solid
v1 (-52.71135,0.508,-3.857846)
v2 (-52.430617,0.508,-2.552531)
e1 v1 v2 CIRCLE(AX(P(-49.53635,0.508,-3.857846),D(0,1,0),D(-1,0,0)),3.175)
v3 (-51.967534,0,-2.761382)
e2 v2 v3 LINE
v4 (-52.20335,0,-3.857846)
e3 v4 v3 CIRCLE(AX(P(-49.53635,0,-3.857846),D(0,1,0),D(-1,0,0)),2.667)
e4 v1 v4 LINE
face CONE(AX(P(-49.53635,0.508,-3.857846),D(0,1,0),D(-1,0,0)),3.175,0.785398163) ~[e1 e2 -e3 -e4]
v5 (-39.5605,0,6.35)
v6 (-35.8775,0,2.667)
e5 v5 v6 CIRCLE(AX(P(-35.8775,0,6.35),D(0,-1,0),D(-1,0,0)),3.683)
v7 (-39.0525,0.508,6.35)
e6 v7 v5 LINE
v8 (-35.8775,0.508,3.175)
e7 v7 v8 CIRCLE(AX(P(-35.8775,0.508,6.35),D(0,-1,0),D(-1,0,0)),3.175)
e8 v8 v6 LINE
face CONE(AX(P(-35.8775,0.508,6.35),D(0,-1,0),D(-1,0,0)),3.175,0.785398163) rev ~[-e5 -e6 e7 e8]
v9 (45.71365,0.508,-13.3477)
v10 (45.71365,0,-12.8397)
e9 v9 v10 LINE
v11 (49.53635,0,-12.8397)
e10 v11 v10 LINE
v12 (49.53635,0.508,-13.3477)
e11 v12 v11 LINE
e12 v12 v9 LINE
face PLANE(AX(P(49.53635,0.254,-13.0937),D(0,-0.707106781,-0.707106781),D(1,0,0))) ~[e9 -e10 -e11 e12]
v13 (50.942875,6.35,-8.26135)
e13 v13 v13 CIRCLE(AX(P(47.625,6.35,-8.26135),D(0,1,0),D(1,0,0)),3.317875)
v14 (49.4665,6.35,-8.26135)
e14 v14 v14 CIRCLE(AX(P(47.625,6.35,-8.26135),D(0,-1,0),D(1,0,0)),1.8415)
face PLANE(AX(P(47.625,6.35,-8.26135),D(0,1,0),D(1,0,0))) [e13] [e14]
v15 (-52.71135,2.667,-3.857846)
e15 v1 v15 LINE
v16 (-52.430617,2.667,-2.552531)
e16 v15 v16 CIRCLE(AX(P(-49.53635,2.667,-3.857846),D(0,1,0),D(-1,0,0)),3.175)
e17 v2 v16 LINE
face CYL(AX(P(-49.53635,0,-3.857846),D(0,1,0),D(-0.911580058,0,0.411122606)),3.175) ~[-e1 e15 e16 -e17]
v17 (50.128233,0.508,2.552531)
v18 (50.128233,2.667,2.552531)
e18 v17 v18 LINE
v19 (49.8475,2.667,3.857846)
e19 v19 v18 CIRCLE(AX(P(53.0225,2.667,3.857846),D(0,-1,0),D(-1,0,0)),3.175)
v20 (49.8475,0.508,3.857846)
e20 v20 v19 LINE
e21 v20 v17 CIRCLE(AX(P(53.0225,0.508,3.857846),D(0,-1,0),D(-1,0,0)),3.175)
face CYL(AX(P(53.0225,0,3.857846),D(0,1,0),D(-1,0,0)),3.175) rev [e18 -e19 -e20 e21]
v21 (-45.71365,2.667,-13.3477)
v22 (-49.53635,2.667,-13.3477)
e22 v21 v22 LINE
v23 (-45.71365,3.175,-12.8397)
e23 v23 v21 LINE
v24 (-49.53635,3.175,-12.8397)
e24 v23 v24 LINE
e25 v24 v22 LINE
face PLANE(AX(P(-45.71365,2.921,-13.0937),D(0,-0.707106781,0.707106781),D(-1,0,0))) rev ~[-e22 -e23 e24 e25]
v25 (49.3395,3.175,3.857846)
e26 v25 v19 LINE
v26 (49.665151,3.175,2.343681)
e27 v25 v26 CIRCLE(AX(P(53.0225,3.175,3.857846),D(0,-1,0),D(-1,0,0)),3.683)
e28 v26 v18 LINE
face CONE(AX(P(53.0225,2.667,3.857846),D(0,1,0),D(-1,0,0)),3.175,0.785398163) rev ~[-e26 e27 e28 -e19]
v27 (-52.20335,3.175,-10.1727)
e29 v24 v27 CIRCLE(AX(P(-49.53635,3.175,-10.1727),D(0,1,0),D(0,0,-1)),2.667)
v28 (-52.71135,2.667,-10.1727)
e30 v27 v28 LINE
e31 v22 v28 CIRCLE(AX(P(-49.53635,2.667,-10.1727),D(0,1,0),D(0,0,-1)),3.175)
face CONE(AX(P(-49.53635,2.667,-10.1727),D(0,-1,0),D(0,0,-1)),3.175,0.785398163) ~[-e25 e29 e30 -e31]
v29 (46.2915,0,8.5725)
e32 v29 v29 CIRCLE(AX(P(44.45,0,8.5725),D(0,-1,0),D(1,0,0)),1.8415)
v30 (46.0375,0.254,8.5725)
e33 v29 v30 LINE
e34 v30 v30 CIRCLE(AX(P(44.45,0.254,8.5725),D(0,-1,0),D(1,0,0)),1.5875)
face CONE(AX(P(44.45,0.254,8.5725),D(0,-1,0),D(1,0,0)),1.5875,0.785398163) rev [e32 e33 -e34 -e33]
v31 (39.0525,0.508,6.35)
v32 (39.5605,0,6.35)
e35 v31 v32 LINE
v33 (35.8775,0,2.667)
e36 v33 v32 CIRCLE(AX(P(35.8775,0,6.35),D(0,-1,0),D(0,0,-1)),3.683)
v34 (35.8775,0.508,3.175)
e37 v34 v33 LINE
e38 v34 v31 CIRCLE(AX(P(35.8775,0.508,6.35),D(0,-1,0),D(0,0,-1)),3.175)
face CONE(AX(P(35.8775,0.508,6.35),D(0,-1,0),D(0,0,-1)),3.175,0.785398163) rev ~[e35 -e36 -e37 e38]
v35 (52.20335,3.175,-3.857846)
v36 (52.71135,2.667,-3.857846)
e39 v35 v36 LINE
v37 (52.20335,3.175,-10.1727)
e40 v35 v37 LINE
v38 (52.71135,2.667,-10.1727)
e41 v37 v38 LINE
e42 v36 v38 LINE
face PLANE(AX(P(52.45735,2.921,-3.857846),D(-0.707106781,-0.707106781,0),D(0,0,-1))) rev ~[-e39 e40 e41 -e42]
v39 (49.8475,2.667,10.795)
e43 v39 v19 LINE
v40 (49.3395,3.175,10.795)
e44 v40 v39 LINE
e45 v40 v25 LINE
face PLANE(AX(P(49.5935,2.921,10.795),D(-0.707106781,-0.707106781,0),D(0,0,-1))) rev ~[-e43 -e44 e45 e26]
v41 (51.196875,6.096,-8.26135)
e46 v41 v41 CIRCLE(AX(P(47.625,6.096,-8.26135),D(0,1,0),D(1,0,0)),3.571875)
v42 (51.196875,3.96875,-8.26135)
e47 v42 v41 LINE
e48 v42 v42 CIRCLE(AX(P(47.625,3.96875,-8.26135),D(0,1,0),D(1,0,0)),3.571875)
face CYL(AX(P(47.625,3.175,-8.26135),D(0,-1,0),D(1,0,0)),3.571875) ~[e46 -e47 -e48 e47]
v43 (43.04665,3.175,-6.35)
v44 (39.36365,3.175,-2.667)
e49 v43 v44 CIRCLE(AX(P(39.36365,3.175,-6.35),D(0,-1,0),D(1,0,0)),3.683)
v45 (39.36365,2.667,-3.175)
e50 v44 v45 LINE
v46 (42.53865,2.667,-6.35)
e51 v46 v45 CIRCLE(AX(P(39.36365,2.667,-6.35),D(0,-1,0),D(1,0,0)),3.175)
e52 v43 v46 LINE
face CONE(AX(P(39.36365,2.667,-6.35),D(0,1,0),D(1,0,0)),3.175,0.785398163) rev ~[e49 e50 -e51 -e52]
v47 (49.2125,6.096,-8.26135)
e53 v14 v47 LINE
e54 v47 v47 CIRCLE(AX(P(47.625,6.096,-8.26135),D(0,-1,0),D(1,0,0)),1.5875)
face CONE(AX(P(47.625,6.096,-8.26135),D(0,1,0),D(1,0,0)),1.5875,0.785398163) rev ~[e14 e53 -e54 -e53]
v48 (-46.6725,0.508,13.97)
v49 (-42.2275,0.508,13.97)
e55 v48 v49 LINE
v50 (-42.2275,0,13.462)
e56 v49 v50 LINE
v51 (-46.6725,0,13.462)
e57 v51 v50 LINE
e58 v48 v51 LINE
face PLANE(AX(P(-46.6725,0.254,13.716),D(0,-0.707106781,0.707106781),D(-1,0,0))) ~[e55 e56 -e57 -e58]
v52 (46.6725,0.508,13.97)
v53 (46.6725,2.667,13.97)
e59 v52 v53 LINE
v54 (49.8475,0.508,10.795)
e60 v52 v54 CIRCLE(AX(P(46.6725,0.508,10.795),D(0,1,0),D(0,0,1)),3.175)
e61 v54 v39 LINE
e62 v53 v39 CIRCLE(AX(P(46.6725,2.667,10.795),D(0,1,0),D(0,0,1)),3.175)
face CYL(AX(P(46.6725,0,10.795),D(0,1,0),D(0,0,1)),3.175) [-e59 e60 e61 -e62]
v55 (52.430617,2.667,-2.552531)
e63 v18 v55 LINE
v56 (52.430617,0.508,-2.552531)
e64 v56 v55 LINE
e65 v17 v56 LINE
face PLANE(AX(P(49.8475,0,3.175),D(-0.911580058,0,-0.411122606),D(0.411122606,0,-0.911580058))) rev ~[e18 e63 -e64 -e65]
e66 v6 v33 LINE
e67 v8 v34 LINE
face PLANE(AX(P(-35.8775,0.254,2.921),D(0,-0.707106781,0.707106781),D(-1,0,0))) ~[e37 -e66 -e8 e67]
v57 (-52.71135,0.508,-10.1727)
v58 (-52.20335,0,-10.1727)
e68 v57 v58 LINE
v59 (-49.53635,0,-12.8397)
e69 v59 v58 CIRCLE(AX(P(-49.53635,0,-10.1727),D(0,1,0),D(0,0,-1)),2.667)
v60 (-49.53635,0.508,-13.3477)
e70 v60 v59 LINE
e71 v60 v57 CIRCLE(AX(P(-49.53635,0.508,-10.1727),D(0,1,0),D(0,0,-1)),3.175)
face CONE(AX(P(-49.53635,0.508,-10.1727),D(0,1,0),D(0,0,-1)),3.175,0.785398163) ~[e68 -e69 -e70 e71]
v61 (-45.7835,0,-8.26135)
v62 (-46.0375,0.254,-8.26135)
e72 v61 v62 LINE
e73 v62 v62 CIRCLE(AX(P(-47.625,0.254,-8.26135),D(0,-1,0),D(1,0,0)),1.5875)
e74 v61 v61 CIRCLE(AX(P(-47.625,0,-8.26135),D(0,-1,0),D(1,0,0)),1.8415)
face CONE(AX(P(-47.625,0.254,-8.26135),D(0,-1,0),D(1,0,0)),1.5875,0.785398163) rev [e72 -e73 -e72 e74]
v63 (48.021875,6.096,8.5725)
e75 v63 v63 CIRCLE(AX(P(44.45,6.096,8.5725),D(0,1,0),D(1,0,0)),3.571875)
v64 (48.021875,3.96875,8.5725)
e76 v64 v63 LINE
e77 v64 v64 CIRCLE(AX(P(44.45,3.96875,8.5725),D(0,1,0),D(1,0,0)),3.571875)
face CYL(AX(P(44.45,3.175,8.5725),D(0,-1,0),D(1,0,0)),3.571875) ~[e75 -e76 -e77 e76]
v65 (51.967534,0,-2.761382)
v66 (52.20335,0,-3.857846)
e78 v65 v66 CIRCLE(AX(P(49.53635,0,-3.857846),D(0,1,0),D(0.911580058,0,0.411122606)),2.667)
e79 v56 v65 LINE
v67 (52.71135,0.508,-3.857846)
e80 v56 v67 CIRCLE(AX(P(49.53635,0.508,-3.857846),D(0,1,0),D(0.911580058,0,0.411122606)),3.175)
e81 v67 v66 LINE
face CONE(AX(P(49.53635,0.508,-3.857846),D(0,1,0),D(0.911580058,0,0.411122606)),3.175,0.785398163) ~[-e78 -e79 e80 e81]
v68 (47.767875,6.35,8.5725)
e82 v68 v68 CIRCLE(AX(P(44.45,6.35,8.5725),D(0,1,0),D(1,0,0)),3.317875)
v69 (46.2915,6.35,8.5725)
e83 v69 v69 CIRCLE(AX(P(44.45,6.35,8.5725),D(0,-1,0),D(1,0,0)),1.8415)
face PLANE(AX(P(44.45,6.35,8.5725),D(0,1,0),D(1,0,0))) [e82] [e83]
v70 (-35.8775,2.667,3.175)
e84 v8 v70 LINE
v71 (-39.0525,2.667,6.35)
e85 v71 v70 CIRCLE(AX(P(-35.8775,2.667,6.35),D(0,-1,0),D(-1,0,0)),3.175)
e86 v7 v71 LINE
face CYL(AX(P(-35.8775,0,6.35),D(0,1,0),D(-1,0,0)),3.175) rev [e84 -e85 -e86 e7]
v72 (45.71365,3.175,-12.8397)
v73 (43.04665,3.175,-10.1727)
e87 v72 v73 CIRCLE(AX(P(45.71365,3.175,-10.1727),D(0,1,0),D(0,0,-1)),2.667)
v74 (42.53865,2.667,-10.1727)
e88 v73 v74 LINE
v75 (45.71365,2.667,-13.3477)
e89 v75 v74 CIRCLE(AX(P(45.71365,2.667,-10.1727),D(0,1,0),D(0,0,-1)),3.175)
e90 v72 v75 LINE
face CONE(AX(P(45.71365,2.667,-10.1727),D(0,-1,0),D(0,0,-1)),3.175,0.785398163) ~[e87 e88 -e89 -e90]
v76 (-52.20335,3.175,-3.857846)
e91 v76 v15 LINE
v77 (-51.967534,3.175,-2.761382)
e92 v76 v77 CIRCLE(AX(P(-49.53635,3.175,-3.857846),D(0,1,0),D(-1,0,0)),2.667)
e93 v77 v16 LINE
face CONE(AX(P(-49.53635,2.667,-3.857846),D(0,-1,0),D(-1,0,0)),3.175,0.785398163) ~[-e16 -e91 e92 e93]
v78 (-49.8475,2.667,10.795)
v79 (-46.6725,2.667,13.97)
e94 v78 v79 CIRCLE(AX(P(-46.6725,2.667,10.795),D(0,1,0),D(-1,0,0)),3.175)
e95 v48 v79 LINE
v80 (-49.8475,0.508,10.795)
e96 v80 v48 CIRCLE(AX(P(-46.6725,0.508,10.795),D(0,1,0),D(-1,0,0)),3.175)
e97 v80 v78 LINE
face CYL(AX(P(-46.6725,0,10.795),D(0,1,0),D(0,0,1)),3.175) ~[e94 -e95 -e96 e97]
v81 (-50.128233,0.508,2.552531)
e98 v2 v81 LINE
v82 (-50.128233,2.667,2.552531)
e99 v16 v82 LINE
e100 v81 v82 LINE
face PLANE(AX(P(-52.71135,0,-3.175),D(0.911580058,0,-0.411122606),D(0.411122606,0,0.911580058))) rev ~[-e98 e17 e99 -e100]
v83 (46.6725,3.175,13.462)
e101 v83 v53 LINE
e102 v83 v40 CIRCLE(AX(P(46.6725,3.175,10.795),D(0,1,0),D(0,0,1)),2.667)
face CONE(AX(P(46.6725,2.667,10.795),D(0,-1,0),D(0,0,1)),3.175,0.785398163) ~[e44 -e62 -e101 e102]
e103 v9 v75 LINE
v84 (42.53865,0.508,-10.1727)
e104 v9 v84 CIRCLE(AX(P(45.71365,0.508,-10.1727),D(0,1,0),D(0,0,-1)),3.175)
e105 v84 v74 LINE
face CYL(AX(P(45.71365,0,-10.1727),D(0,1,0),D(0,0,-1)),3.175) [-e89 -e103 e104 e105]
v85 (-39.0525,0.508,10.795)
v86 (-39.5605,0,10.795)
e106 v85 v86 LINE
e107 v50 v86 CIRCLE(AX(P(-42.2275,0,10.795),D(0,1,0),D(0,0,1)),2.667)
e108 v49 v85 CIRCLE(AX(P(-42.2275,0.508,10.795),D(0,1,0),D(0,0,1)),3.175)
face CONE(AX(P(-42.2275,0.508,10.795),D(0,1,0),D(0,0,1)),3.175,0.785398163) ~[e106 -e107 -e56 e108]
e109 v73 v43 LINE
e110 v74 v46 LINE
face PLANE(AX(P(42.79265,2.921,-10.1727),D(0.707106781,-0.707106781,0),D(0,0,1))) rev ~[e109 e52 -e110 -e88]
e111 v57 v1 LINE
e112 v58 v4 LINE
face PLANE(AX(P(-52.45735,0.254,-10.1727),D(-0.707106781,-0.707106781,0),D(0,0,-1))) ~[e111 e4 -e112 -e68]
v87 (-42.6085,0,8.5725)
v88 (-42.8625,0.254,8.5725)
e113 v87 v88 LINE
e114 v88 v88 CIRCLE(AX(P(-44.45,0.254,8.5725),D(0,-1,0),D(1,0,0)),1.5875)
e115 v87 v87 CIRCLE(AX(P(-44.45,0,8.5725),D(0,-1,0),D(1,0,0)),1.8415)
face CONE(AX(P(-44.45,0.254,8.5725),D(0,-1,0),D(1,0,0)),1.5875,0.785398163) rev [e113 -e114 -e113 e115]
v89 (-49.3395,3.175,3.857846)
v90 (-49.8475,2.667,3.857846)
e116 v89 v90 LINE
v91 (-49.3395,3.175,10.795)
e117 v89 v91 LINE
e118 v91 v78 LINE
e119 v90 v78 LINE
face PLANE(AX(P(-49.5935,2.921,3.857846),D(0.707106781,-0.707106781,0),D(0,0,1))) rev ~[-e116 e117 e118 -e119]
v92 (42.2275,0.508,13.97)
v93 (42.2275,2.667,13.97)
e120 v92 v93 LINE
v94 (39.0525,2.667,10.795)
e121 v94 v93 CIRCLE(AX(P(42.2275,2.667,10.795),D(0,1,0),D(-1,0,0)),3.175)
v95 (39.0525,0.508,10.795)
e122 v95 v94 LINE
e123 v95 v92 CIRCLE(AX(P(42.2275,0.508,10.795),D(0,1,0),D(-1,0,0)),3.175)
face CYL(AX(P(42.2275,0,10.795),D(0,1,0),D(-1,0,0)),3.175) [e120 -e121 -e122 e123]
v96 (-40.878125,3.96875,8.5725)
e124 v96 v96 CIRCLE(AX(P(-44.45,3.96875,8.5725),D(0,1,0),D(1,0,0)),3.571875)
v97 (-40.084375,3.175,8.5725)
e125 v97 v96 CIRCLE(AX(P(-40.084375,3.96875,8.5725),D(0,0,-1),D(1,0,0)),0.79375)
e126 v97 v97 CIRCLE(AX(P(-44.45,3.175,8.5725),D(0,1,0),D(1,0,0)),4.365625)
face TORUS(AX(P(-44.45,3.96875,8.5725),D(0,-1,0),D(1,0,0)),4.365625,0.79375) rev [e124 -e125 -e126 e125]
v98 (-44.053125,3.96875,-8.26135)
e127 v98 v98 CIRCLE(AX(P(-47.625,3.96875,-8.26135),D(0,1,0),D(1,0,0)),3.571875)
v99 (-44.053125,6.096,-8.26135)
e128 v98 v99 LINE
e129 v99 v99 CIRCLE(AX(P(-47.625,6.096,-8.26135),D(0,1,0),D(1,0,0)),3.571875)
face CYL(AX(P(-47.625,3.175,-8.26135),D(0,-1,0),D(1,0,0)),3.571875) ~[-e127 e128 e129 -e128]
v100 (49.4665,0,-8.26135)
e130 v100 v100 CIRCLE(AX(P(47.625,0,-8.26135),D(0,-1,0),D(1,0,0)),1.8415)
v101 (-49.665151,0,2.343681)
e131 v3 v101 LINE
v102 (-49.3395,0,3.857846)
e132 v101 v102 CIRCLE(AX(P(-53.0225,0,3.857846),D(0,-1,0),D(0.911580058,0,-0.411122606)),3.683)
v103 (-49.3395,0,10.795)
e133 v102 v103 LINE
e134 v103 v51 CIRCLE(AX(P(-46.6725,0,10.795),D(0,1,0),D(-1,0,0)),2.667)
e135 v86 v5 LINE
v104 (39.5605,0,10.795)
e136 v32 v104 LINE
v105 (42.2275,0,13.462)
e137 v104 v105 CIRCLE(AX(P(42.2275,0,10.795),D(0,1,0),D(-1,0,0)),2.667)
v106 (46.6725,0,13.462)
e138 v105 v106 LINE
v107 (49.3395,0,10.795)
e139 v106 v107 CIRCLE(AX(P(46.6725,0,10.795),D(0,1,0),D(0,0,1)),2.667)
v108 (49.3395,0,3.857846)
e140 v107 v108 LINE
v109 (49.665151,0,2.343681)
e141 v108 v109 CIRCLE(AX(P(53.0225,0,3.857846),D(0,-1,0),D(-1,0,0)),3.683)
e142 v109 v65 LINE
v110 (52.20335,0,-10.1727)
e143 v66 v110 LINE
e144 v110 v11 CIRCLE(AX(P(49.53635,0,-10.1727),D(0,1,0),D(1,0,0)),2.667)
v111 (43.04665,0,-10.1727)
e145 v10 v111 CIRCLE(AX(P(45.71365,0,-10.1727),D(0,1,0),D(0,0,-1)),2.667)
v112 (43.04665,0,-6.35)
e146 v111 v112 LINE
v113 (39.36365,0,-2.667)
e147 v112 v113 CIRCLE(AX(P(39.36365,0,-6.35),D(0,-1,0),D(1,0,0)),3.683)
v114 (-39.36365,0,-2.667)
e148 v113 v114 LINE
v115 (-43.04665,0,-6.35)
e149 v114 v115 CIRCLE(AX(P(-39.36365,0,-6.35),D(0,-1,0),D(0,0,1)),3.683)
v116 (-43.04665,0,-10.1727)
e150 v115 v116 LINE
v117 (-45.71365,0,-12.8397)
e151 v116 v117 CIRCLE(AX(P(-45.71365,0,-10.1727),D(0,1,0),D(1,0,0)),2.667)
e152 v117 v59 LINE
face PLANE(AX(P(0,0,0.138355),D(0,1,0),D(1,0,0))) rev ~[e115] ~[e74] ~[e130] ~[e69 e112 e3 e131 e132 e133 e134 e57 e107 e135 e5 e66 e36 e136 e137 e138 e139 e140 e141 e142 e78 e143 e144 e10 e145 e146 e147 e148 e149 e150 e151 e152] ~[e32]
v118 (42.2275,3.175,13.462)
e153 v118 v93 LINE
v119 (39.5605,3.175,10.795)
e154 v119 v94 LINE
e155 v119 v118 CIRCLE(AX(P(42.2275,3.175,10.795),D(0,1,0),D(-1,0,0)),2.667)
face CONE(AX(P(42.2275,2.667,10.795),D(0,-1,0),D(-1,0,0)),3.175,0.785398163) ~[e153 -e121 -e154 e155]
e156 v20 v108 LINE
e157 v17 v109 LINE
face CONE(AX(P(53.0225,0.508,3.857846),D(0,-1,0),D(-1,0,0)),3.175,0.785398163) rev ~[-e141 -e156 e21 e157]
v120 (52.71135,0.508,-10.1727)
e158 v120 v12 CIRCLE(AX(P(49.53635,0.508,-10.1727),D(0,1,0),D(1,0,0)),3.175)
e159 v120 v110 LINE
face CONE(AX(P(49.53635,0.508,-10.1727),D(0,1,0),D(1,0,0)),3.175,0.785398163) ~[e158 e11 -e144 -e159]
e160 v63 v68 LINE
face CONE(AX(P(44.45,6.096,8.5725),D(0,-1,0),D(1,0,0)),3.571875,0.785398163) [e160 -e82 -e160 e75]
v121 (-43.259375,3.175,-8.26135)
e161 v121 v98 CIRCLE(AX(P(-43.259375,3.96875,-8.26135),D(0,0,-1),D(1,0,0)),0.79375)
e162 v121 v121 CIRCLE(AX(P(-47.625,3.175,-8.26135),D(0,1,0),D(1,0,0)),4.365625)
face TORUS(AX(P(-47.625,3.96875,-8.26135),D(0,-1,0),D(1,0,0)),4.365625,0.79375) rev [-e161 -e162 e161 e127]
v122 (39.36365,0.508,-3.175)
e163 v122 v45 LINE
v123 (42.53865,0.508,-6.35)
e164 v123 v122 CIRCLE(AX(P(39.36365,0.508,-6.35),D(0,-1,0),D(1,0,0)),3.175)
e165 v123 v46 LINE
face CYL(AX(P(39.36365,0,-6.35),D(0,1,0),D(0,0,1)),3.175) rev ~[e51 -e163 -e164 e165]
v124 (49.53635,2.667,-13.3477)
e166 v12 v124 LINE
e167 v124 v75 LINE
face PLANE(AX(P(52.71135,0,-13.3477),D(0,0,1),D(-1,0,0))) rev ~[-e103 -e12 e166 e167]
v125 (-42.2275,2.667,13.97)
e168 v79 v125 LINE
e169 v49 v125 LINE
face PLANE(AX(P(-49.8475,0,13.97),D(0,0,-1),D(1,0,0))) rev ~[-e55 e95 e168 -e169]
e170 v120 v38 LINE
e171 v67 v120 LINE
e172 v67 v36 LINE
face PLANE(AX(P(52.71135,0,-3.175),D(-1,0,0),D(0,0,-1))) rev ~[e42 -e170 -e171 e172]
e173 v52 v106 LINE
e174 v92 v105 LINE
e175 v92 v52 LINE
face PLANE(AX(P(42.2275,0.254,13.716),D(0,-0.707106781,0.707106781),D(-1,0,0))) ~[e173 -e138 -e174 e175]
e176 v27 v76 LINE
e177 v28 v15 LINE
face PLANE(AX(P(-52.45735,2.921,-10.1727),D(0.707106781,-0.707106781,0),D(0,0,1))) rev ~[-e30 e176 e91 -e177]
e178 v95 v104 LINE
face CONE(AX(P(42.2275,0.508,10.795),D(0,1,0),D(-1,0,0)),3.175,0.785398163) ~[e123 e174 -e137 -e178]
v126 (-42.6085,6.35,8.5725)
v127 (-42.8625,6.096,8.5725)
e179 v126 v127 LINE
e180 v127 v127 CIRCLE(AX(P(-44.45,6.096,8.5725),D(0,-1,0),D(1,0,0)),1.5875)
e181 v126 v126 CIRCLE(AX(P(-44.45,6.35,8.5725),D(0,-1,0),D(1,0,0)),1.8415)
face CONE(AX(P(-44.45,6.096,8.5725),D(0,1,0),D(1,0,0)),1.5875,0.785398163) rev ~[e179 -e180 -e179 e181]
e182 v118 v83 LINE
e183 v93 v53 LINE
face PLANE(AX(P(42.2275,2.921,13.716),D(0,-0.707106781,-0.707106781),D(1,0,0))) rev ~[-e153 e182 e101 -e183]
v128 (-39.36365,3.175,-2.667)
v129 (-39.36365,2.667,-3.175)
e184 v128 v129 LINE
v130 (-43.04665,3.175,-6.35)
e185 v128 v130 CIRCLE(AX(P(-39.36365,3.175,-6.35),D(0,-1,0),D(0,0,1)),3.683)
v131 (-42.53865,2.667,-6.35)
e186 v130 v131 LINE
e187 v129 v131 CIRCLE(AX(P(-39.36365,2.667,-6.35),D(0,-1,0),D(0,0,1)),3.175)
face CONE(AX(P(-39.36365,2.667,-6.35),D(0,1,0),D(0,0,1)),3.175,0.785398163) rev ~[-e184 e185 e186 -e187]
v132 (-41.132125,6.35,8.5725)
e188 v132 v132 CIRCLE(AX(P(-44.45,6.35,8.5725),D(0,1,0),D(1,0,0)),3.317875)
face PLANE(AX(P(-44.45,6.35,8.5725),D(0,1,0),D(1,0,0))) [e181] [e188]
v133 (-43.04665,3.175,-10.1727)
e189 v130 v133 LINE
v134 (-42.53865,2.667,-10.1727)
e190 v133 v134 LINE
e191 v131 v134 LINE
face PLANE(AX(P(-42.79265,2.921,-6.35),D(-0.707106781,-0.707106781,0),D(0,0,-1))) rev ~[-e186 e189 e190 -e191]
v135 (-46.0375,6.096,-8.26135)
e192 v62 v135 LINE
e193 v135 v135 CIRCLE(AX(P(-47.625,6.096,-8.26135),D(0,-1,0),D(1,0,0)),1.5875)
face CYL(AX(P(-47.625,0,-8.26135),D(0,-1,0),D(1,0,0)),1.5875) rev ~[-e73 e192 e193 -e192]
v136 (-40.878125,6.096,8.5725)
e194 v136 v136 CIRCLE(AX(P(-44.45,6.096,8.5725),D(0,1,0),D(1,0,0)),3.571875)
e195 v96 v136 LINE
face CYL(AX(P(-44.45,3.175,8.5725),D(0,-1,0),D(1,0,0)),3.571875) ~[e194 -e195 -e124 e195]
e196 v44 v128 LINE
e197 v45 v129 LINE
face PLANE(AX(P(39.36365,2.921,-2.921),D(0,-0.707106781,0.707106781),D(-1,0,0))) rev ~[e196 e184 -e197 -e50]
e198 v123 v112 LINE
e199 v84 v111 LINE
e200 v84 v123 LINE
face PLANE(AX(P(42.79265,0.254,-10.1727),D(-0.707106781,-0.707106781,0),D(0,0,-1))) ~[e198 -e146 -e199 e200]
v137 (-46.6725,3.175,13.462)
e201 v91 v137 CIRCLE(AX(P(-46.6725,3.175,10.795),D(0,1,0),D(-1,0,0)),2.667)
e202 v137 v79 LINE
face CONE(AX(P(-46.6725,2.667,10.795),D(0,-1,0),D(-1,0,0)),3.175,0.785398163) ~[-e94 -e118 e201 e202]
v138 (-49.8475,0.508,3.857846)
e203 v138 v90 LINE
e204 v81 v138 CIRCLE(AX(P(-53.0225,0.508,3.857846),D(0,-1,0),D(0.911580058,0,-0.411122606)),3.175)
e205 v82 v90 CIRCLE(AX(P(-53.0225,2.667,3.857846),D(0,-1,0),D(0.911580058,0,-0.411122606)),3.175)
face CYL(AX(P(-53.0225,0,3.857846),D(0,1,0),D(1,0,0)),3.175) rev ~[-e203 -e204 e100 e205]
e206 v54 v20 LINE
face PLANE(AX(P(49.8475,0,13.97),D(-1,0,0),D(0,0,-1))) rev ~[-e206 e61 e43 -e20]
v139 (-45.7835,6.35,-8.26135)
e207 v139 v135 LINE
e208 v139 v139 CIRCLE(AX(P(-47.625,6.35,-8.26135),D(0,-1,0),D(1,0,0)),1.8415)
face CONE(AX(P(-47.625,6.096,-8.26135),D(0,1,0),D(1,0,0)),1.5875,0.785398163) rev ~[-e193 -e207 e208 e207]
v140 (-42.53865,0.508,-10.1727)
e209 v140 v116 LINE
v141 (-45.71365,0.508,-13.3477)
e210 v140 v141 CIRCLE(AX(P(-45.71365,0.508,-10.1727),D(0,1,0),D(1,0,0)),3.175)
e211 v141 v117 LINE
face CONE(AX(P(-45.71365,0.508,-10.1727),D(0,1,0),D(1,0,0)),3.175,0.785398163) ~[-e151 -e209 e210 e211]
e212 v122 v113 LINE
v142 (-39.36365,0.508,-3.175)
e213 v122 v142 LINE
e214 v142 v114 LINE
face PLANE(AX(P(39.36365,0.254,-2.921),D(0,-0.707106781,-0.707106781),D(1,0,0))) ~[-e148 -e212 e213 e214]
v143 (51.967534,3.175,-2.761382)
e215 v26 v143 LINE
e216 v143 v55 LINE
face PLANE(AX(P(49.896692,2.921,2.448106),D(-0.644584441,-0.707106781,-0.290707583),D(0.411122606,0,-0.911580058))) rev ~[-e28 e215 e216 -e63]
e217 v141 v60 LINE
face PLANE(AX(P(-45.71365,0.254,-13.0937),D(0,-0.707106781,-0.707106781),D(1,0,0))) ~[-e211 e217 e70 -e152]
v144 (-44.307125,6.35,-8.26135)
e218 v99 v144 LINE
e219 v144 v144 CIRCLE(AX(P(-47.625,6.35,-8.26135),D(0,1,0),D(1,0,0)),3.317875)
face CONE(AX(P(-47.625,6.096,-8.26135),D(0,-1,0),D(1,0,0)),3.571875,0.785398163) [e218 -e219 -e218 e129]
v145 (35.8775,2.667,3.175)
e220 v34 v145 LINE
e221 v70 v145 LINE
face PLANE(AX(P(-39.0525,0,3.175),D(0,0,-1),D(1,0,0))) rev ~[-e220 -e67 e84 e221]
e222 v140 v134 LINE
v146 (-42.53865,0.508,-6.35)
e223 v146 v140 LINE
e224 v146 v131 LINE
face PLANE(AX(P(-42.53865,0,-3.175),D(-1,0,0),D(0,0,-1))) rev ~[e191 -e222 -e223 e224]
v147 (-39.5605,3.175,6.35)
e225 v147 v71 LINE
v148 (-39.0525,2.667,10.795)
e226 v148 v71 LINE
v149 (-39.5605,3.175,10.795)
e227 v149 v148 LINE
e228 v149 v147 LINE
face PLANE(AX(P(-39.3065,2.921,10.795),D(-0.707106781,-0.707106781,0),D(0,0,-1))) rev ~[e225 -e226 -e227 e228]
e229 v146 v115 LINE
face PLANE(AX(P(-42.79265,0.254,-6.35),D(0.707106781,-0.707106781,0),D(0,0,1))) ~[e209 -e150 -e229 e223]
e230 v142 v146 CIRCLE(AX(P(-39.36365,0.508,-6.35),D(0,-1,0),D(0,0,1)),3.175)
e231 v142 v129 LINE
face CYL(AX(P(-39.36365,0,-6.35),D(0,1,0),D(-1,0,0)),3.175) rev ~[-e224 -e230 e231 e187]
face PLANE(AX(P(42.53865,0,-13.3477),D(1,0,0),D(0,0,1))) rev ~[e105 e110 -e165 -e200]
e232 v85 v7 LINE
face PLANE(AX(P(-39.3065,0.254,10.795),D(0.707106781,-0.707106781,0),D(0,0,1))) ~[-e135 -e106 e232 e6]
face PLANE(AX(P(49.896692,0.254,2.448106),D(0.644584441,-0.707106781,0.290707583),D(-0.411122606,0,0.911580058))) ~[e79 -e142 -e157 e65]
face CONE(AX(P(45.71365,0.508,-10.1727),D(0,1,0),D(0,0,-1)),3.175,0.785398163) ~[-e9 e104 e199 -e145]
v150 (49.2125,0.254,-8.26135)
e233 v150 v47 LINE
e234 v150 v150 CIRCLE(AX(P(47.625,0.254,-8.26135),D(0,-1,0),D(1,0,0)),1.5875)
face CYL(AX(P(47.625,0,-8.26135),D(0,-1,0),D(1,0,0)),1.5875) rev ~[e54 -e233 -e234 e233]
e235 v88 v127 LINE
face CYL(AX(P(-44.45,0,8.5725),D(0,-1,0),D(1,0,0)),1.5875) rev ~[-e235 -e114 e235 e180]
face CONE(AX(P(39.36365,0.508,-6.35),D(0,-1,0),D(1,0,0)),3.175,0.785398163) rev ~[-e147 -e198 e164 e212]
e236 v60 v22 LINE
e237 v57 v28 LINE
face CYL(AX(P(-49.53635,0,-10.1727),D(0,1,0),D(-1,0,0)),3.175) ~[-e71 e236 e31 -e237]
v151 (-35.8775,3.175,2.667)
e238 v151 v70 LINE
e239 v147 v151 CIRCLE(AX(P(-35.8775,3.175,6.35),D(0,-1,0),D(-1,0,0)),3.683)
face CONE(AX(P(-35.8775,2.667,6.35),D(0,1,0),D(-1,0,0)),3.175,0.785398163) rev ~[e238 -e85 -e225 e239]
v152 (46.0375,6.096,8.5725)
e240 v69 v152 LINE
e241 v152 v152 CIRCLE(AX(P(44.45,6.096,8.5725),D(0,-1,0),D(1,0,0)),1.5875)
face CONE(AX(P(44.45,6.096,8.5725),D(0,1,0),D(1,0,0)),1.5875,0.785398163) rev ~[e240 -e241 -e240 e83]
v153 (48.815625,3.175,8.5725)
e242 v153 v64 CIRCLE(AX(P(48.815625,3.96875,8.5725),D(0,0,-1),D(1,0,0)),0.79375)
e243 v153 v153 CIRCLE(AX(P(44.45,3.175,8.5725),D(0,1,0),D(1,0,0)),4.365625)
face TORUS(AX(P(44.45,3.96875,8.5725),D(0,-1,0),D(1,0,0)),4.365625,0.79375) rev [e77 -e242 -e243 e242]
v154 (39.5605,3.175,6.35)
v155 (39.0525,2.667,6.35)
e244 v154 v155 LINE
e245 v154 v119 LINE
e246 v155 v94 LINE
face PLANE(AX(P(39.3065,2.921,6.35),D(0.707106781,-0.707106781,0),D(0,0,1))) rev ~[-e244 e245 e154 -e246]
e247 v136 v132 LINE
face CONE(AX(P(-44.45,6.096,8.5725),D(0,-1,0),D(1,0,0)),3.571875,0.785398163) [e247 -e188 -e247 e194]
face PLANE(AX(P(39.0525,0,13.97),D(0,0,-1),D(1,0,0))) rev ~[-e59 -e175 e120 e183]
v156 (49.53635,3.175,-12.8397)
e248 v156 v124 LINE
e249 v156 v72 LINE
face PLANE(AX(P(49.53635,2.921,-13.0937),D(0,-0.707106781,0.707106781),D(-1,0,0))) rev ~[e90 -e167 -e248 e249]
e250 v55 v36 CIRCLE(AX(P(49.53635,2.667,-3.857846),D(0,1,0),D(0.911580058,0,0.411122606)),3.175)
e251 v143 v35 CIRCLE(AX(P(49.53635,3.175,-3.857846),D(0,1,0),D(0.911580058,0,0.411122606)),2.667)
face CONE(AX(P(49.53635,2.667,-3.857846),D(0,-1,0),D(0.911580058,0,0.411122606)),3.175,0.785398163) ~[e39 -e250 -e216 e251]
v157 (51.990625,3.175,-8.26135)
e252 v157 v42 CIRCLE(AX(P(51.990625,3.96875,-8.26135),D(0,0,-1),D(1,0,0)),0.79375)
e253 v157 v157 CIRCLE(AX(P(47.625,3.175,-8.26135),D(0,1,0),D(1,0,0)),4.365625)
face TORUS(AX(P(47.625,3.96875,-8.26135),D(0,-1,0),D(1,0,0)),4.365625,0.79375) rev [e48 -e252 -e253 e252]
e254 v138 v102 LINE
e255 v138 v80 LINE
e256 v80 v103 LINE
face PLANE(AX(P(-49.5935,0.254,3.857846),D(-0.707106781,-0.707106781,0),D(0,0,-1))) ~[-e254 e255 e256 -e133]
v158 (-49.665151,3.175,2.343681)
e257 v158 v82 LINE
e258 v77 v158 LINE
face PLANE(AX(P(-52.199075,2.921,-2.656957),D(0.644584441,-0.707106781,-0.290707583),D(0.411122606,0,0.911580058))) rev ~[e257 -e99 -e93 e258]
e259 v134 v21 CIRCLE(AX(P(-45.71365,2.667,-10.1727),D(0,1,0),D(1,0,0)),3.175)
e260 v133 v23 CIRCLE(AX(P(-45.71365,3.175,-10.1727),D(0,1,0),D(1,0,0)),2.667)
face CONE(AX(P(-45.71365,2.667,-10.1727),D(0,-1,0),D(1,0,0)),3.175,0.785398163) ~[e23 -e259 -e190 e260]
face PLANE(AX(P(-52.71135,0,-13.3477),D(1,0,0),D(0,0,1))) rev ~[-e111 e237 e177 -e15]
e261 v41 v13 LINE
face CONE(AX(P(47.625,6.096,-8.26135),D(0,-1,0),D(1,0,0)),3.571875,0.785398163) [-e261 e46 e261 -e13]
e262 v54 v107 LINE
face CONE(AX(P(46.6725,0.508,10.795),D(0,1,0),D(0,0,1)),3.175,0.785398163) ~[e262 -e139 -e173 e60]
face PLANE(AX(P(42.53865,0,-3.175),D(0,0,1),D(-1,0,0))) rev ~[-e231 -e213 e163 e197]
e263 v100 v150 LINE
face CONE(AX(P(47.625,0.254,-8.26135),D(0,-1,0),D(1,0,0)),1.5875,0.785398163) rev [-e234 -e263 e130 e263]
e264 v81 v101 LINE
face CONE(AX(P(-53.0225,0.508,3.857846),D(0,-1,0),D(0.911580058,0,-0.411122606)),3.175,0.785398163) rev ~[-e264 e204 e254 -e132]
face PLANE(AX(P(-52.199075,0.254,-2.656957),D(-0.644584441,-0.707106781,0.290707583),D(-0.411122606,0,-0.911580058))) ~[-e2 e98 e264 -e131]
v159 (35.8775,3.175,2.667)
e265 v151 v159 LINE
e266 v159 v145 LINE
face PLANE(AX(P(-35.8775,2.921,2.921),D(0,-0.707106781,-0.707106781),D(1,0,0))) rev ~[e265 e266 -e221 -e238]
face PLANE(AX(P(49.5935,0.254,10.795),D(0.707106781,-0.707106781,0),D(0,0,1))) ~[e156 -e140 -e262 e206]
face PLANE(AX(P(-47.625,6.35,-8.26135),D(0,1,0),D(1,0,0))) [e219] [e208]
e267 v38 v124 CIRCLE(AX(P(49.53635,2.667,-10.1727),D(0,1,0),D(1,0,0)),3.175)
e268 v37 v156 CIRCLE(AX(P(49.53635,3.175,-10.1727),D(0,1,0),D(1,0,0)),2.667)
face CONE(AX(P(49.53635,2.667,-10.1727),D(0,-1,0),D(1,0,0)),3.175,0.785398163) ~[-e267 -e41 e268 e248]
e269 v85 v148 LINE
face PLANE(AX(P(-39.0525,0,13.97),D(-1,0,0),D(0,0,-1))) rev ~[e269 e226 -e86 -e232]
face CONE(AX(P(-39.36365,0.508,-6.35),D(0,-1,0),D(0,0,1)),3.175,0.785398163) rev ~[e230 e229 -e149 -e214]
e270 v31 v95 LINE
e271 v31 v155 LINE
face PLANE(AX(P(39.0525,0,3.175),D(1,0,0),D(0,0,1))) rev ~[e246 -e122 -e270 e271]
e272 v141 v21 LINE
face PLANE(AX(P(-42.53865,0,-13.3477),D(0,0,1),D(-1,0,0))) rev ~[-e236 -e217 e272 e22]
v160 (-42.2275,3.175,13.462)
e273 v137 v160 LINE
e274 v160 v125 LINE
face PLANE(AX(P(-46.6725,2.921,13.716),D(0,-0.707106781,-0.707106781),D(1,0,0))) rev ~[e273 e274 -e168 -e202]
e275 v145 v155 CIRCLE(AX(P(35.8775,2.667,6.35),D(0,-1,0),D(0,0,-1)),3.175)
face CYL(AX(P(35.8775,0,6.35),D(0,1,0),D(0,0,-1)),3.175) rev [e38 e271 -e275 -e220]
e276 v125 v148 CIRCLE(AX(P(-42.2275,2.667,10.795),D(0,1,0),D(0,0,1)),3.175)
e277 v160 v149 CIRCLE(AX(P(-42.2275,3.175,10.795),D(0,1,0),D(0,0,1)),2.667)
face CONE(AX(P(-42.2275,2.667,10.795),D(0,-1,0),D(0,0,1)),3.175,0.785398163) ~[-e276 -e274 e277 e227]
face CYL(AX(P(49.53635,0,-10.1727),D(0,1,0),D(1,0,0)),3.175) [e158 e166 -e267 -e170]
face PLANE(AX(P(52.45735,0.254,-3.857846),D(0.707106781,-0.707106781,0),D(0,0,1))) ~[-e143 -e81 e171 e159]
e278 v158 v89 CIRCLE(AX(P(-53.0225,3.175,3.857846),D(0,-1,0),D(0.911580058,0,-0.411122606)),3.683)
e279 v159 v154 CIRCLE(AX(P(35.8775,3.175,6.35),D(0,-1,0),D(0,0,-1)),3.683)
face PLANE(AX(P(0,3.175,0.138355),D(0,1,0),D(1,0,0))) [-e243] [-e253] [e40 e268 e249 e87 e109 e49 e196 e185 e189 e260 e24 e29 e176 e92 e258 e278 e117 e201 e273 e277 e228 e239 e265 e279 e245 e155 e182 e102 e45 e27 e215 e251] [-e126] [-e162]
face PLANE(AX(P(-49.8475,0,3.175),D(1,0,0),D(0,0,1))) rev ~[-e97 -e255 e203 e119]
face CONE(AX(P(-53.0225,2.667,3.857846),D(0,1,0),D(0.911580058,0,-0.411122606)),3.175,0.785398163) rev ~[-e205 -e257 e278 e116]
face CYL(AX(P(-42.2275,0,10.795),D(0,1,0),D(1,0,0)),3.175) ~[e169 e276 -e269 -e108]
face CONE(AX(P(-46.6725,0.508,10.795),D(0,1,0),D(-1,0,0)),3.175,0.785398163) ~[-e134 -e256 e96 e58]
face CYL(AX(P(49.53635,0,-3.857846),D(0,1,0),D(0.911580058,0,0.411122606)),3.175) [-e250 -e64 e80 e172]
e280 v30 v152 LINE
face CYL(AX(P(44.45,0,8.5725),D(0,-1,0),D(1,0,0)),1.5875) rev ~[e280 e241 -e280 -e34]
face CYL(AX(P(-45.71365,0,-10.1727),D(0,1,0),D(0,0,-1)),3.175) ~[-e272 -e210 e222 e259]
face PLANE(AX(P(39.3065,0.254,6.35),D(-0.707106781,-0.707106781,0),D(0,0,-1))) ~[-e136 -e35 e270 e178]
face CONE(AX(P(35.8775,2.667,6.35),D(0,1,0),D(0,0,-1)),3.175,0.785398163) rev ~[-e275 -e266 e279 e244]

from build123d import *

# Parameters (mm, degrees)
BOSS_EXTRUDE2_DEPTH = 3.175
SKETCH3_R           = 3.571875
BOSS_EXTRUDE3_DEPTH = 3.175
CUT_EXTRUDE1_REACH  = 8.35
SKETCH4_R           = 1.5875
FILLET1_R           = 3.175
FILLET2_R           = 0.79375
CHAMFER1_SIZE       = 0.508
CHAMFER2_SIZE       = 0.254


with BuildPart() as part:
    # Sketch2 → Boss-Extrude2 (new body)
    with BuildSketch(Plane(origin=(0, 0, 0), x_dir=(1, 0, 0), z_dir=(0, 1, 0))):
        Polygon((-39.0525, -13.97), (-39.0525, -3.175), (39.0525, -3.175), (39.0525, -13.97), (49.8475, -13.97), (49.8475, -3.175), (52.71135, 3.175), (52.71135, 13.3477), (42.53865, 13.3477), (42.53865, 3.175), (-42.53865, 3.175), (-42.53865, 13.3477), (-52.71135, 13.3477), (-52.71135, 3.175), (-49.8475, -3.175), (-49.8475, -13.97), align=None)
    extrude(amount=BOSS_EXTRUDE2_DEPTH)

    # Sketch3 → Boss-Extrude3 (add)
    with BuildSketch(Plane(origin=(0, 3.175, 0), x_dir=(1, 0, 0), z_dir=(0, 1, 0))):
        with Locations((-47.625, 8.26135)):
            Circle(SKETCH3_R)
        with Locations((-44.45, -8.5725)):
            Circle(SKETCH3_R)
        with Locations((44.45, -8.5725)):
            Circle(SKETCH3_R)
        with Locations((47.625, 8.26135)):
            Circle(SKETCH3_R)
    extrude(amount=BOSS_EXTRUDE3_DEPTH)

    # Sketch4 → Cut-Extrude1 (cut, up to next)
    with BuildSketch(Plane.XZ, mode=Mode.PRIVATE) as cut_extrude1_sk1:
        with Locations((-44.45, 8.5725)):
            Circle(SKETCH4_R)
    cut_extrude1_tool1 = extrude(cut_extrude1_sk1.sketch, amount=-CUT_EXTRUDE1_REACH, mode=Mode.PRIVATE) & part.part
    add(cut_extrude1_tool1.solids().sort_by_distance((-44.45, 0, 8.5725))[0], mode=Mode.SUBTRACT)
    # Sketch4 → Cut-Extrude1 (cut, up to next)
    with BuildSketch(Plane.XZ, mode=Mode.PRIVATE) as cut_extrude1_sk2:
        with Locations((-47.625, -8.26135)):
            Circle(SKETCH4_R)
    cut_extrude1_tool2 = extrude(cut_extrude1_sk2.sketch, amount=-CUT_EXTRUDE1_REACH, mode=Mode.PRIVATE) & part.part
    add(cut_extrude1_tool2.solids().sort_by_distance((-47.625, 0, -8.26135))[0], mode=Mode.SUBTRACT)
    # Sketch4 → Cut-Extrude1 (cut, up to next)
    with BuildSketch(Plane.XZ, mode=Mode.PRIVATE) as cut_extrude1_sk3:
        with Locations((47.625, -8.26135)):
            Circle(SKETCH4_R)
    cut_extrude1_tool3 = extrude(cut_extrude1_sk3.sketch, amount=-CUT_EXTRUDE1_REACH, mode=Mode.PRIVATE) & part.part
    add(cut_extrude1_tool3.solids().sort_by_distance((47.625, 0, -8.26135))[0], mode=Mode.SUBTRACT)
    # Sketch4 → Cut-Extrude1 (cut, up to next)
    with BuildSketch(Plane.XZ, mode=Mode.PRIVATE) as cut_extrude1_sk4:
        with Locations((44.45, 8.5725)):
            Circle(SKETCH4_R)
    cut_extrude1_tool4 = extrude(cut_extrude1_sk4.sketch, amount=-CUT_EXTRUDE1_REACH, mode=Mode.PRIVATE) & part.part
    add(cut_extrude1_tool4.solids().sort_by_distance((44.45, 0, 8.5725))[0], mode=Mode.SUBTRACT)

    # Fillet1
    fillet1_edges = [part.edges().sort_by_distance(p)[0] for p in [
        (-42.53865, 1.5875, -13.3477),
        (-42.53865, 1.5875, -3.175),
        (42.53865, 1.5875, -3.175),
        (42.53865, 1.5875, -13.3477),
        (52.71135, 1.5875, -13.3477),
        (52.71135, 1.5875, -3.175),
        (49.8475, 1.5875, 3.175),
        (49.8475, 1.5875, 13.97),
        (39.0525, 1.5875, 13.97),
        (39.0525, 1.5875, 3.175),
        (-39.0525, 1.5875, 3.175),
        (-39.0525, 1.5875, 13.97),
        (-49.8475, 1.5875, 13.97),
        (-49.8475, 1.5875, 3.175),
        (-52.71135, 1.5875, -3.175),
        (-52.71135, 1.5875, -13.3477),
    ]]
    fillet(fillet1_edges, radius=FILLET1_R)

    # Fillet2
    fillet2_edges = [part.edges().sort_by_distance(p)[0] for p in [
        (-51.196875, 3.175, -8.26135),
        (-48.021875, 3.175, 8.5725),
        (44.053125, 3.175, -8.26135),
        (40.878125, 3.175, 8.5725),
    ]]
    fillet(fillet2_edges, radius=FILLET2_R)

    # Chamfer1
    chamfer1_edges = [part.edges().sort_by_distance(p)[0] for p in [
        (51.78141403, 0, -12.41776403),
        (43.46858597, 0, -12.41776403),
        (-43.46858597, 0, -12.41776403),
        (-42.53865, 3.175, -8.26135),
        (-52.71135, 3.175, -7.015272864),
        (-51.279425, 3.175, 0),
        (-49.8475, 3.175, 7.326422864),
        (-44.45, 3.175, 13.97),
        (-39.0525, 3.175, 8.5725),
        (0, 3.175, 3.175),
        (39.0525, 3.175, 8.5725),
        (44.45, 3.175, 13.97),
        (49.8475, 3.175, 7.326422864),
        (51.279425, 3.175, 0),
        (52.71135, 3.175, -7.015272864),
        (47.625, 3.175, -13.3477),
        (42.53865, 3.175, -8.26135),
        (0, 3.175, -3.175),
        (-51.78141403, 3.175, -12.41776403),
        (-52.640373335, 3.175, -3.190264917),
        (-48.91756403, 3.175, 13.04006403),
        (-39.98243597, 3.175, 13.04006403),
        (39.98243597, 3.175, 13.04006403),
        (48.91756403, 3.175, 13.04006403),
        (52.640373335, 3.175, -3.190264917),
        (51.78141403, 3.175, -12.41776403),
        (43.46858597, 3.175, -12.41776403),
        (-43.46858597, 3.175, -12.41776403),
        (-41.60871403, 0, -4.10493597),
        (-41.60871403, 3.175, -4.10493597),
        (41.60871403, 0, -4.10493597),
        (41.60871403, 3.175, -4.10493597),
        (49.918476665, 0, 3.190264917),
        (49.918476665, 3.175, 3.190264917),
        (38.12256403, 0, 4.10493597),
        (38.12256403, 3.175, 4.10493597),
        (-49.918476665, 0, 3.190264917),
        (-49.918476665, 3.175, 3.190264917),
        (-38.12256403, 0, 4.10493597),
        (-38.12256403, 3.175, 4.10493597),
        (-47.625, 0, -13.3477),
        (-47.625, 3.175, -13.3477),
        (-42.53865, 0, -8.26135),
        (0, 0, -3.175),
        (42.53865, 0, -8.26135),
        (47.625, 0, -13.3477),
        (52.71135, 0, -7.015272864),
        (51.279425, 0, 0),
        (49.8475, 0, 7.326422864),
        (44.45, 0, 13.97),
        (39.0525, 0, 8.5725),
        (0, 0, 3.175),
        (-39.0525, 0, 8.5725),
        (-44.45, 0, 13.97),
        (-49.8475, 0, 7.326422864),
        (-51.279425, 0, 0),
        (-52.71135, 0, -7.015272864),
        (-51.78141403, 0, -12.41776403),
        (-52.640373335, 0, -3.190264917),
        (-48.91756403, 0, 13.04006403),
        (-39.98243597, 0, 13.04006403),
        (39.98243597, 0, 13.04006403),
        (48.91756403, 0, 13.04006403),
        (52.640373335, 0, -3.190264917),
    ]]
    chamfer(chamfer1_edges, length=CHAMFER1_SIZE)

    # Chamfer2
    chamfer2_edges = [part.edges().sort_by_distance(p)[0] for p in [
        (-51.196875, 6.35, -8.26135),
        (-48.021875, 6.35, 8.5725),
        (44.053125, 6.35, -8.26135),
        (40.878125, 6.35, 8.5725),
        (42.8625, 6.35, 8.5725),
        (42.8625, 0, 8.5725),
        (46.0375, 6.35, -8.26135),
        (46.0375, 0, -8.26135),
        (-49.2125, 6.35, -8.26135),
        (-49.2125, 0, -8.26135),
        (-46.0375, 6.35, 8.5725),
        (-46.0375, 0, 8.5725),
    ]]
    chamfer(chamfer2_edges, length=CHAMFER2_SIZE)


solid = part.part
